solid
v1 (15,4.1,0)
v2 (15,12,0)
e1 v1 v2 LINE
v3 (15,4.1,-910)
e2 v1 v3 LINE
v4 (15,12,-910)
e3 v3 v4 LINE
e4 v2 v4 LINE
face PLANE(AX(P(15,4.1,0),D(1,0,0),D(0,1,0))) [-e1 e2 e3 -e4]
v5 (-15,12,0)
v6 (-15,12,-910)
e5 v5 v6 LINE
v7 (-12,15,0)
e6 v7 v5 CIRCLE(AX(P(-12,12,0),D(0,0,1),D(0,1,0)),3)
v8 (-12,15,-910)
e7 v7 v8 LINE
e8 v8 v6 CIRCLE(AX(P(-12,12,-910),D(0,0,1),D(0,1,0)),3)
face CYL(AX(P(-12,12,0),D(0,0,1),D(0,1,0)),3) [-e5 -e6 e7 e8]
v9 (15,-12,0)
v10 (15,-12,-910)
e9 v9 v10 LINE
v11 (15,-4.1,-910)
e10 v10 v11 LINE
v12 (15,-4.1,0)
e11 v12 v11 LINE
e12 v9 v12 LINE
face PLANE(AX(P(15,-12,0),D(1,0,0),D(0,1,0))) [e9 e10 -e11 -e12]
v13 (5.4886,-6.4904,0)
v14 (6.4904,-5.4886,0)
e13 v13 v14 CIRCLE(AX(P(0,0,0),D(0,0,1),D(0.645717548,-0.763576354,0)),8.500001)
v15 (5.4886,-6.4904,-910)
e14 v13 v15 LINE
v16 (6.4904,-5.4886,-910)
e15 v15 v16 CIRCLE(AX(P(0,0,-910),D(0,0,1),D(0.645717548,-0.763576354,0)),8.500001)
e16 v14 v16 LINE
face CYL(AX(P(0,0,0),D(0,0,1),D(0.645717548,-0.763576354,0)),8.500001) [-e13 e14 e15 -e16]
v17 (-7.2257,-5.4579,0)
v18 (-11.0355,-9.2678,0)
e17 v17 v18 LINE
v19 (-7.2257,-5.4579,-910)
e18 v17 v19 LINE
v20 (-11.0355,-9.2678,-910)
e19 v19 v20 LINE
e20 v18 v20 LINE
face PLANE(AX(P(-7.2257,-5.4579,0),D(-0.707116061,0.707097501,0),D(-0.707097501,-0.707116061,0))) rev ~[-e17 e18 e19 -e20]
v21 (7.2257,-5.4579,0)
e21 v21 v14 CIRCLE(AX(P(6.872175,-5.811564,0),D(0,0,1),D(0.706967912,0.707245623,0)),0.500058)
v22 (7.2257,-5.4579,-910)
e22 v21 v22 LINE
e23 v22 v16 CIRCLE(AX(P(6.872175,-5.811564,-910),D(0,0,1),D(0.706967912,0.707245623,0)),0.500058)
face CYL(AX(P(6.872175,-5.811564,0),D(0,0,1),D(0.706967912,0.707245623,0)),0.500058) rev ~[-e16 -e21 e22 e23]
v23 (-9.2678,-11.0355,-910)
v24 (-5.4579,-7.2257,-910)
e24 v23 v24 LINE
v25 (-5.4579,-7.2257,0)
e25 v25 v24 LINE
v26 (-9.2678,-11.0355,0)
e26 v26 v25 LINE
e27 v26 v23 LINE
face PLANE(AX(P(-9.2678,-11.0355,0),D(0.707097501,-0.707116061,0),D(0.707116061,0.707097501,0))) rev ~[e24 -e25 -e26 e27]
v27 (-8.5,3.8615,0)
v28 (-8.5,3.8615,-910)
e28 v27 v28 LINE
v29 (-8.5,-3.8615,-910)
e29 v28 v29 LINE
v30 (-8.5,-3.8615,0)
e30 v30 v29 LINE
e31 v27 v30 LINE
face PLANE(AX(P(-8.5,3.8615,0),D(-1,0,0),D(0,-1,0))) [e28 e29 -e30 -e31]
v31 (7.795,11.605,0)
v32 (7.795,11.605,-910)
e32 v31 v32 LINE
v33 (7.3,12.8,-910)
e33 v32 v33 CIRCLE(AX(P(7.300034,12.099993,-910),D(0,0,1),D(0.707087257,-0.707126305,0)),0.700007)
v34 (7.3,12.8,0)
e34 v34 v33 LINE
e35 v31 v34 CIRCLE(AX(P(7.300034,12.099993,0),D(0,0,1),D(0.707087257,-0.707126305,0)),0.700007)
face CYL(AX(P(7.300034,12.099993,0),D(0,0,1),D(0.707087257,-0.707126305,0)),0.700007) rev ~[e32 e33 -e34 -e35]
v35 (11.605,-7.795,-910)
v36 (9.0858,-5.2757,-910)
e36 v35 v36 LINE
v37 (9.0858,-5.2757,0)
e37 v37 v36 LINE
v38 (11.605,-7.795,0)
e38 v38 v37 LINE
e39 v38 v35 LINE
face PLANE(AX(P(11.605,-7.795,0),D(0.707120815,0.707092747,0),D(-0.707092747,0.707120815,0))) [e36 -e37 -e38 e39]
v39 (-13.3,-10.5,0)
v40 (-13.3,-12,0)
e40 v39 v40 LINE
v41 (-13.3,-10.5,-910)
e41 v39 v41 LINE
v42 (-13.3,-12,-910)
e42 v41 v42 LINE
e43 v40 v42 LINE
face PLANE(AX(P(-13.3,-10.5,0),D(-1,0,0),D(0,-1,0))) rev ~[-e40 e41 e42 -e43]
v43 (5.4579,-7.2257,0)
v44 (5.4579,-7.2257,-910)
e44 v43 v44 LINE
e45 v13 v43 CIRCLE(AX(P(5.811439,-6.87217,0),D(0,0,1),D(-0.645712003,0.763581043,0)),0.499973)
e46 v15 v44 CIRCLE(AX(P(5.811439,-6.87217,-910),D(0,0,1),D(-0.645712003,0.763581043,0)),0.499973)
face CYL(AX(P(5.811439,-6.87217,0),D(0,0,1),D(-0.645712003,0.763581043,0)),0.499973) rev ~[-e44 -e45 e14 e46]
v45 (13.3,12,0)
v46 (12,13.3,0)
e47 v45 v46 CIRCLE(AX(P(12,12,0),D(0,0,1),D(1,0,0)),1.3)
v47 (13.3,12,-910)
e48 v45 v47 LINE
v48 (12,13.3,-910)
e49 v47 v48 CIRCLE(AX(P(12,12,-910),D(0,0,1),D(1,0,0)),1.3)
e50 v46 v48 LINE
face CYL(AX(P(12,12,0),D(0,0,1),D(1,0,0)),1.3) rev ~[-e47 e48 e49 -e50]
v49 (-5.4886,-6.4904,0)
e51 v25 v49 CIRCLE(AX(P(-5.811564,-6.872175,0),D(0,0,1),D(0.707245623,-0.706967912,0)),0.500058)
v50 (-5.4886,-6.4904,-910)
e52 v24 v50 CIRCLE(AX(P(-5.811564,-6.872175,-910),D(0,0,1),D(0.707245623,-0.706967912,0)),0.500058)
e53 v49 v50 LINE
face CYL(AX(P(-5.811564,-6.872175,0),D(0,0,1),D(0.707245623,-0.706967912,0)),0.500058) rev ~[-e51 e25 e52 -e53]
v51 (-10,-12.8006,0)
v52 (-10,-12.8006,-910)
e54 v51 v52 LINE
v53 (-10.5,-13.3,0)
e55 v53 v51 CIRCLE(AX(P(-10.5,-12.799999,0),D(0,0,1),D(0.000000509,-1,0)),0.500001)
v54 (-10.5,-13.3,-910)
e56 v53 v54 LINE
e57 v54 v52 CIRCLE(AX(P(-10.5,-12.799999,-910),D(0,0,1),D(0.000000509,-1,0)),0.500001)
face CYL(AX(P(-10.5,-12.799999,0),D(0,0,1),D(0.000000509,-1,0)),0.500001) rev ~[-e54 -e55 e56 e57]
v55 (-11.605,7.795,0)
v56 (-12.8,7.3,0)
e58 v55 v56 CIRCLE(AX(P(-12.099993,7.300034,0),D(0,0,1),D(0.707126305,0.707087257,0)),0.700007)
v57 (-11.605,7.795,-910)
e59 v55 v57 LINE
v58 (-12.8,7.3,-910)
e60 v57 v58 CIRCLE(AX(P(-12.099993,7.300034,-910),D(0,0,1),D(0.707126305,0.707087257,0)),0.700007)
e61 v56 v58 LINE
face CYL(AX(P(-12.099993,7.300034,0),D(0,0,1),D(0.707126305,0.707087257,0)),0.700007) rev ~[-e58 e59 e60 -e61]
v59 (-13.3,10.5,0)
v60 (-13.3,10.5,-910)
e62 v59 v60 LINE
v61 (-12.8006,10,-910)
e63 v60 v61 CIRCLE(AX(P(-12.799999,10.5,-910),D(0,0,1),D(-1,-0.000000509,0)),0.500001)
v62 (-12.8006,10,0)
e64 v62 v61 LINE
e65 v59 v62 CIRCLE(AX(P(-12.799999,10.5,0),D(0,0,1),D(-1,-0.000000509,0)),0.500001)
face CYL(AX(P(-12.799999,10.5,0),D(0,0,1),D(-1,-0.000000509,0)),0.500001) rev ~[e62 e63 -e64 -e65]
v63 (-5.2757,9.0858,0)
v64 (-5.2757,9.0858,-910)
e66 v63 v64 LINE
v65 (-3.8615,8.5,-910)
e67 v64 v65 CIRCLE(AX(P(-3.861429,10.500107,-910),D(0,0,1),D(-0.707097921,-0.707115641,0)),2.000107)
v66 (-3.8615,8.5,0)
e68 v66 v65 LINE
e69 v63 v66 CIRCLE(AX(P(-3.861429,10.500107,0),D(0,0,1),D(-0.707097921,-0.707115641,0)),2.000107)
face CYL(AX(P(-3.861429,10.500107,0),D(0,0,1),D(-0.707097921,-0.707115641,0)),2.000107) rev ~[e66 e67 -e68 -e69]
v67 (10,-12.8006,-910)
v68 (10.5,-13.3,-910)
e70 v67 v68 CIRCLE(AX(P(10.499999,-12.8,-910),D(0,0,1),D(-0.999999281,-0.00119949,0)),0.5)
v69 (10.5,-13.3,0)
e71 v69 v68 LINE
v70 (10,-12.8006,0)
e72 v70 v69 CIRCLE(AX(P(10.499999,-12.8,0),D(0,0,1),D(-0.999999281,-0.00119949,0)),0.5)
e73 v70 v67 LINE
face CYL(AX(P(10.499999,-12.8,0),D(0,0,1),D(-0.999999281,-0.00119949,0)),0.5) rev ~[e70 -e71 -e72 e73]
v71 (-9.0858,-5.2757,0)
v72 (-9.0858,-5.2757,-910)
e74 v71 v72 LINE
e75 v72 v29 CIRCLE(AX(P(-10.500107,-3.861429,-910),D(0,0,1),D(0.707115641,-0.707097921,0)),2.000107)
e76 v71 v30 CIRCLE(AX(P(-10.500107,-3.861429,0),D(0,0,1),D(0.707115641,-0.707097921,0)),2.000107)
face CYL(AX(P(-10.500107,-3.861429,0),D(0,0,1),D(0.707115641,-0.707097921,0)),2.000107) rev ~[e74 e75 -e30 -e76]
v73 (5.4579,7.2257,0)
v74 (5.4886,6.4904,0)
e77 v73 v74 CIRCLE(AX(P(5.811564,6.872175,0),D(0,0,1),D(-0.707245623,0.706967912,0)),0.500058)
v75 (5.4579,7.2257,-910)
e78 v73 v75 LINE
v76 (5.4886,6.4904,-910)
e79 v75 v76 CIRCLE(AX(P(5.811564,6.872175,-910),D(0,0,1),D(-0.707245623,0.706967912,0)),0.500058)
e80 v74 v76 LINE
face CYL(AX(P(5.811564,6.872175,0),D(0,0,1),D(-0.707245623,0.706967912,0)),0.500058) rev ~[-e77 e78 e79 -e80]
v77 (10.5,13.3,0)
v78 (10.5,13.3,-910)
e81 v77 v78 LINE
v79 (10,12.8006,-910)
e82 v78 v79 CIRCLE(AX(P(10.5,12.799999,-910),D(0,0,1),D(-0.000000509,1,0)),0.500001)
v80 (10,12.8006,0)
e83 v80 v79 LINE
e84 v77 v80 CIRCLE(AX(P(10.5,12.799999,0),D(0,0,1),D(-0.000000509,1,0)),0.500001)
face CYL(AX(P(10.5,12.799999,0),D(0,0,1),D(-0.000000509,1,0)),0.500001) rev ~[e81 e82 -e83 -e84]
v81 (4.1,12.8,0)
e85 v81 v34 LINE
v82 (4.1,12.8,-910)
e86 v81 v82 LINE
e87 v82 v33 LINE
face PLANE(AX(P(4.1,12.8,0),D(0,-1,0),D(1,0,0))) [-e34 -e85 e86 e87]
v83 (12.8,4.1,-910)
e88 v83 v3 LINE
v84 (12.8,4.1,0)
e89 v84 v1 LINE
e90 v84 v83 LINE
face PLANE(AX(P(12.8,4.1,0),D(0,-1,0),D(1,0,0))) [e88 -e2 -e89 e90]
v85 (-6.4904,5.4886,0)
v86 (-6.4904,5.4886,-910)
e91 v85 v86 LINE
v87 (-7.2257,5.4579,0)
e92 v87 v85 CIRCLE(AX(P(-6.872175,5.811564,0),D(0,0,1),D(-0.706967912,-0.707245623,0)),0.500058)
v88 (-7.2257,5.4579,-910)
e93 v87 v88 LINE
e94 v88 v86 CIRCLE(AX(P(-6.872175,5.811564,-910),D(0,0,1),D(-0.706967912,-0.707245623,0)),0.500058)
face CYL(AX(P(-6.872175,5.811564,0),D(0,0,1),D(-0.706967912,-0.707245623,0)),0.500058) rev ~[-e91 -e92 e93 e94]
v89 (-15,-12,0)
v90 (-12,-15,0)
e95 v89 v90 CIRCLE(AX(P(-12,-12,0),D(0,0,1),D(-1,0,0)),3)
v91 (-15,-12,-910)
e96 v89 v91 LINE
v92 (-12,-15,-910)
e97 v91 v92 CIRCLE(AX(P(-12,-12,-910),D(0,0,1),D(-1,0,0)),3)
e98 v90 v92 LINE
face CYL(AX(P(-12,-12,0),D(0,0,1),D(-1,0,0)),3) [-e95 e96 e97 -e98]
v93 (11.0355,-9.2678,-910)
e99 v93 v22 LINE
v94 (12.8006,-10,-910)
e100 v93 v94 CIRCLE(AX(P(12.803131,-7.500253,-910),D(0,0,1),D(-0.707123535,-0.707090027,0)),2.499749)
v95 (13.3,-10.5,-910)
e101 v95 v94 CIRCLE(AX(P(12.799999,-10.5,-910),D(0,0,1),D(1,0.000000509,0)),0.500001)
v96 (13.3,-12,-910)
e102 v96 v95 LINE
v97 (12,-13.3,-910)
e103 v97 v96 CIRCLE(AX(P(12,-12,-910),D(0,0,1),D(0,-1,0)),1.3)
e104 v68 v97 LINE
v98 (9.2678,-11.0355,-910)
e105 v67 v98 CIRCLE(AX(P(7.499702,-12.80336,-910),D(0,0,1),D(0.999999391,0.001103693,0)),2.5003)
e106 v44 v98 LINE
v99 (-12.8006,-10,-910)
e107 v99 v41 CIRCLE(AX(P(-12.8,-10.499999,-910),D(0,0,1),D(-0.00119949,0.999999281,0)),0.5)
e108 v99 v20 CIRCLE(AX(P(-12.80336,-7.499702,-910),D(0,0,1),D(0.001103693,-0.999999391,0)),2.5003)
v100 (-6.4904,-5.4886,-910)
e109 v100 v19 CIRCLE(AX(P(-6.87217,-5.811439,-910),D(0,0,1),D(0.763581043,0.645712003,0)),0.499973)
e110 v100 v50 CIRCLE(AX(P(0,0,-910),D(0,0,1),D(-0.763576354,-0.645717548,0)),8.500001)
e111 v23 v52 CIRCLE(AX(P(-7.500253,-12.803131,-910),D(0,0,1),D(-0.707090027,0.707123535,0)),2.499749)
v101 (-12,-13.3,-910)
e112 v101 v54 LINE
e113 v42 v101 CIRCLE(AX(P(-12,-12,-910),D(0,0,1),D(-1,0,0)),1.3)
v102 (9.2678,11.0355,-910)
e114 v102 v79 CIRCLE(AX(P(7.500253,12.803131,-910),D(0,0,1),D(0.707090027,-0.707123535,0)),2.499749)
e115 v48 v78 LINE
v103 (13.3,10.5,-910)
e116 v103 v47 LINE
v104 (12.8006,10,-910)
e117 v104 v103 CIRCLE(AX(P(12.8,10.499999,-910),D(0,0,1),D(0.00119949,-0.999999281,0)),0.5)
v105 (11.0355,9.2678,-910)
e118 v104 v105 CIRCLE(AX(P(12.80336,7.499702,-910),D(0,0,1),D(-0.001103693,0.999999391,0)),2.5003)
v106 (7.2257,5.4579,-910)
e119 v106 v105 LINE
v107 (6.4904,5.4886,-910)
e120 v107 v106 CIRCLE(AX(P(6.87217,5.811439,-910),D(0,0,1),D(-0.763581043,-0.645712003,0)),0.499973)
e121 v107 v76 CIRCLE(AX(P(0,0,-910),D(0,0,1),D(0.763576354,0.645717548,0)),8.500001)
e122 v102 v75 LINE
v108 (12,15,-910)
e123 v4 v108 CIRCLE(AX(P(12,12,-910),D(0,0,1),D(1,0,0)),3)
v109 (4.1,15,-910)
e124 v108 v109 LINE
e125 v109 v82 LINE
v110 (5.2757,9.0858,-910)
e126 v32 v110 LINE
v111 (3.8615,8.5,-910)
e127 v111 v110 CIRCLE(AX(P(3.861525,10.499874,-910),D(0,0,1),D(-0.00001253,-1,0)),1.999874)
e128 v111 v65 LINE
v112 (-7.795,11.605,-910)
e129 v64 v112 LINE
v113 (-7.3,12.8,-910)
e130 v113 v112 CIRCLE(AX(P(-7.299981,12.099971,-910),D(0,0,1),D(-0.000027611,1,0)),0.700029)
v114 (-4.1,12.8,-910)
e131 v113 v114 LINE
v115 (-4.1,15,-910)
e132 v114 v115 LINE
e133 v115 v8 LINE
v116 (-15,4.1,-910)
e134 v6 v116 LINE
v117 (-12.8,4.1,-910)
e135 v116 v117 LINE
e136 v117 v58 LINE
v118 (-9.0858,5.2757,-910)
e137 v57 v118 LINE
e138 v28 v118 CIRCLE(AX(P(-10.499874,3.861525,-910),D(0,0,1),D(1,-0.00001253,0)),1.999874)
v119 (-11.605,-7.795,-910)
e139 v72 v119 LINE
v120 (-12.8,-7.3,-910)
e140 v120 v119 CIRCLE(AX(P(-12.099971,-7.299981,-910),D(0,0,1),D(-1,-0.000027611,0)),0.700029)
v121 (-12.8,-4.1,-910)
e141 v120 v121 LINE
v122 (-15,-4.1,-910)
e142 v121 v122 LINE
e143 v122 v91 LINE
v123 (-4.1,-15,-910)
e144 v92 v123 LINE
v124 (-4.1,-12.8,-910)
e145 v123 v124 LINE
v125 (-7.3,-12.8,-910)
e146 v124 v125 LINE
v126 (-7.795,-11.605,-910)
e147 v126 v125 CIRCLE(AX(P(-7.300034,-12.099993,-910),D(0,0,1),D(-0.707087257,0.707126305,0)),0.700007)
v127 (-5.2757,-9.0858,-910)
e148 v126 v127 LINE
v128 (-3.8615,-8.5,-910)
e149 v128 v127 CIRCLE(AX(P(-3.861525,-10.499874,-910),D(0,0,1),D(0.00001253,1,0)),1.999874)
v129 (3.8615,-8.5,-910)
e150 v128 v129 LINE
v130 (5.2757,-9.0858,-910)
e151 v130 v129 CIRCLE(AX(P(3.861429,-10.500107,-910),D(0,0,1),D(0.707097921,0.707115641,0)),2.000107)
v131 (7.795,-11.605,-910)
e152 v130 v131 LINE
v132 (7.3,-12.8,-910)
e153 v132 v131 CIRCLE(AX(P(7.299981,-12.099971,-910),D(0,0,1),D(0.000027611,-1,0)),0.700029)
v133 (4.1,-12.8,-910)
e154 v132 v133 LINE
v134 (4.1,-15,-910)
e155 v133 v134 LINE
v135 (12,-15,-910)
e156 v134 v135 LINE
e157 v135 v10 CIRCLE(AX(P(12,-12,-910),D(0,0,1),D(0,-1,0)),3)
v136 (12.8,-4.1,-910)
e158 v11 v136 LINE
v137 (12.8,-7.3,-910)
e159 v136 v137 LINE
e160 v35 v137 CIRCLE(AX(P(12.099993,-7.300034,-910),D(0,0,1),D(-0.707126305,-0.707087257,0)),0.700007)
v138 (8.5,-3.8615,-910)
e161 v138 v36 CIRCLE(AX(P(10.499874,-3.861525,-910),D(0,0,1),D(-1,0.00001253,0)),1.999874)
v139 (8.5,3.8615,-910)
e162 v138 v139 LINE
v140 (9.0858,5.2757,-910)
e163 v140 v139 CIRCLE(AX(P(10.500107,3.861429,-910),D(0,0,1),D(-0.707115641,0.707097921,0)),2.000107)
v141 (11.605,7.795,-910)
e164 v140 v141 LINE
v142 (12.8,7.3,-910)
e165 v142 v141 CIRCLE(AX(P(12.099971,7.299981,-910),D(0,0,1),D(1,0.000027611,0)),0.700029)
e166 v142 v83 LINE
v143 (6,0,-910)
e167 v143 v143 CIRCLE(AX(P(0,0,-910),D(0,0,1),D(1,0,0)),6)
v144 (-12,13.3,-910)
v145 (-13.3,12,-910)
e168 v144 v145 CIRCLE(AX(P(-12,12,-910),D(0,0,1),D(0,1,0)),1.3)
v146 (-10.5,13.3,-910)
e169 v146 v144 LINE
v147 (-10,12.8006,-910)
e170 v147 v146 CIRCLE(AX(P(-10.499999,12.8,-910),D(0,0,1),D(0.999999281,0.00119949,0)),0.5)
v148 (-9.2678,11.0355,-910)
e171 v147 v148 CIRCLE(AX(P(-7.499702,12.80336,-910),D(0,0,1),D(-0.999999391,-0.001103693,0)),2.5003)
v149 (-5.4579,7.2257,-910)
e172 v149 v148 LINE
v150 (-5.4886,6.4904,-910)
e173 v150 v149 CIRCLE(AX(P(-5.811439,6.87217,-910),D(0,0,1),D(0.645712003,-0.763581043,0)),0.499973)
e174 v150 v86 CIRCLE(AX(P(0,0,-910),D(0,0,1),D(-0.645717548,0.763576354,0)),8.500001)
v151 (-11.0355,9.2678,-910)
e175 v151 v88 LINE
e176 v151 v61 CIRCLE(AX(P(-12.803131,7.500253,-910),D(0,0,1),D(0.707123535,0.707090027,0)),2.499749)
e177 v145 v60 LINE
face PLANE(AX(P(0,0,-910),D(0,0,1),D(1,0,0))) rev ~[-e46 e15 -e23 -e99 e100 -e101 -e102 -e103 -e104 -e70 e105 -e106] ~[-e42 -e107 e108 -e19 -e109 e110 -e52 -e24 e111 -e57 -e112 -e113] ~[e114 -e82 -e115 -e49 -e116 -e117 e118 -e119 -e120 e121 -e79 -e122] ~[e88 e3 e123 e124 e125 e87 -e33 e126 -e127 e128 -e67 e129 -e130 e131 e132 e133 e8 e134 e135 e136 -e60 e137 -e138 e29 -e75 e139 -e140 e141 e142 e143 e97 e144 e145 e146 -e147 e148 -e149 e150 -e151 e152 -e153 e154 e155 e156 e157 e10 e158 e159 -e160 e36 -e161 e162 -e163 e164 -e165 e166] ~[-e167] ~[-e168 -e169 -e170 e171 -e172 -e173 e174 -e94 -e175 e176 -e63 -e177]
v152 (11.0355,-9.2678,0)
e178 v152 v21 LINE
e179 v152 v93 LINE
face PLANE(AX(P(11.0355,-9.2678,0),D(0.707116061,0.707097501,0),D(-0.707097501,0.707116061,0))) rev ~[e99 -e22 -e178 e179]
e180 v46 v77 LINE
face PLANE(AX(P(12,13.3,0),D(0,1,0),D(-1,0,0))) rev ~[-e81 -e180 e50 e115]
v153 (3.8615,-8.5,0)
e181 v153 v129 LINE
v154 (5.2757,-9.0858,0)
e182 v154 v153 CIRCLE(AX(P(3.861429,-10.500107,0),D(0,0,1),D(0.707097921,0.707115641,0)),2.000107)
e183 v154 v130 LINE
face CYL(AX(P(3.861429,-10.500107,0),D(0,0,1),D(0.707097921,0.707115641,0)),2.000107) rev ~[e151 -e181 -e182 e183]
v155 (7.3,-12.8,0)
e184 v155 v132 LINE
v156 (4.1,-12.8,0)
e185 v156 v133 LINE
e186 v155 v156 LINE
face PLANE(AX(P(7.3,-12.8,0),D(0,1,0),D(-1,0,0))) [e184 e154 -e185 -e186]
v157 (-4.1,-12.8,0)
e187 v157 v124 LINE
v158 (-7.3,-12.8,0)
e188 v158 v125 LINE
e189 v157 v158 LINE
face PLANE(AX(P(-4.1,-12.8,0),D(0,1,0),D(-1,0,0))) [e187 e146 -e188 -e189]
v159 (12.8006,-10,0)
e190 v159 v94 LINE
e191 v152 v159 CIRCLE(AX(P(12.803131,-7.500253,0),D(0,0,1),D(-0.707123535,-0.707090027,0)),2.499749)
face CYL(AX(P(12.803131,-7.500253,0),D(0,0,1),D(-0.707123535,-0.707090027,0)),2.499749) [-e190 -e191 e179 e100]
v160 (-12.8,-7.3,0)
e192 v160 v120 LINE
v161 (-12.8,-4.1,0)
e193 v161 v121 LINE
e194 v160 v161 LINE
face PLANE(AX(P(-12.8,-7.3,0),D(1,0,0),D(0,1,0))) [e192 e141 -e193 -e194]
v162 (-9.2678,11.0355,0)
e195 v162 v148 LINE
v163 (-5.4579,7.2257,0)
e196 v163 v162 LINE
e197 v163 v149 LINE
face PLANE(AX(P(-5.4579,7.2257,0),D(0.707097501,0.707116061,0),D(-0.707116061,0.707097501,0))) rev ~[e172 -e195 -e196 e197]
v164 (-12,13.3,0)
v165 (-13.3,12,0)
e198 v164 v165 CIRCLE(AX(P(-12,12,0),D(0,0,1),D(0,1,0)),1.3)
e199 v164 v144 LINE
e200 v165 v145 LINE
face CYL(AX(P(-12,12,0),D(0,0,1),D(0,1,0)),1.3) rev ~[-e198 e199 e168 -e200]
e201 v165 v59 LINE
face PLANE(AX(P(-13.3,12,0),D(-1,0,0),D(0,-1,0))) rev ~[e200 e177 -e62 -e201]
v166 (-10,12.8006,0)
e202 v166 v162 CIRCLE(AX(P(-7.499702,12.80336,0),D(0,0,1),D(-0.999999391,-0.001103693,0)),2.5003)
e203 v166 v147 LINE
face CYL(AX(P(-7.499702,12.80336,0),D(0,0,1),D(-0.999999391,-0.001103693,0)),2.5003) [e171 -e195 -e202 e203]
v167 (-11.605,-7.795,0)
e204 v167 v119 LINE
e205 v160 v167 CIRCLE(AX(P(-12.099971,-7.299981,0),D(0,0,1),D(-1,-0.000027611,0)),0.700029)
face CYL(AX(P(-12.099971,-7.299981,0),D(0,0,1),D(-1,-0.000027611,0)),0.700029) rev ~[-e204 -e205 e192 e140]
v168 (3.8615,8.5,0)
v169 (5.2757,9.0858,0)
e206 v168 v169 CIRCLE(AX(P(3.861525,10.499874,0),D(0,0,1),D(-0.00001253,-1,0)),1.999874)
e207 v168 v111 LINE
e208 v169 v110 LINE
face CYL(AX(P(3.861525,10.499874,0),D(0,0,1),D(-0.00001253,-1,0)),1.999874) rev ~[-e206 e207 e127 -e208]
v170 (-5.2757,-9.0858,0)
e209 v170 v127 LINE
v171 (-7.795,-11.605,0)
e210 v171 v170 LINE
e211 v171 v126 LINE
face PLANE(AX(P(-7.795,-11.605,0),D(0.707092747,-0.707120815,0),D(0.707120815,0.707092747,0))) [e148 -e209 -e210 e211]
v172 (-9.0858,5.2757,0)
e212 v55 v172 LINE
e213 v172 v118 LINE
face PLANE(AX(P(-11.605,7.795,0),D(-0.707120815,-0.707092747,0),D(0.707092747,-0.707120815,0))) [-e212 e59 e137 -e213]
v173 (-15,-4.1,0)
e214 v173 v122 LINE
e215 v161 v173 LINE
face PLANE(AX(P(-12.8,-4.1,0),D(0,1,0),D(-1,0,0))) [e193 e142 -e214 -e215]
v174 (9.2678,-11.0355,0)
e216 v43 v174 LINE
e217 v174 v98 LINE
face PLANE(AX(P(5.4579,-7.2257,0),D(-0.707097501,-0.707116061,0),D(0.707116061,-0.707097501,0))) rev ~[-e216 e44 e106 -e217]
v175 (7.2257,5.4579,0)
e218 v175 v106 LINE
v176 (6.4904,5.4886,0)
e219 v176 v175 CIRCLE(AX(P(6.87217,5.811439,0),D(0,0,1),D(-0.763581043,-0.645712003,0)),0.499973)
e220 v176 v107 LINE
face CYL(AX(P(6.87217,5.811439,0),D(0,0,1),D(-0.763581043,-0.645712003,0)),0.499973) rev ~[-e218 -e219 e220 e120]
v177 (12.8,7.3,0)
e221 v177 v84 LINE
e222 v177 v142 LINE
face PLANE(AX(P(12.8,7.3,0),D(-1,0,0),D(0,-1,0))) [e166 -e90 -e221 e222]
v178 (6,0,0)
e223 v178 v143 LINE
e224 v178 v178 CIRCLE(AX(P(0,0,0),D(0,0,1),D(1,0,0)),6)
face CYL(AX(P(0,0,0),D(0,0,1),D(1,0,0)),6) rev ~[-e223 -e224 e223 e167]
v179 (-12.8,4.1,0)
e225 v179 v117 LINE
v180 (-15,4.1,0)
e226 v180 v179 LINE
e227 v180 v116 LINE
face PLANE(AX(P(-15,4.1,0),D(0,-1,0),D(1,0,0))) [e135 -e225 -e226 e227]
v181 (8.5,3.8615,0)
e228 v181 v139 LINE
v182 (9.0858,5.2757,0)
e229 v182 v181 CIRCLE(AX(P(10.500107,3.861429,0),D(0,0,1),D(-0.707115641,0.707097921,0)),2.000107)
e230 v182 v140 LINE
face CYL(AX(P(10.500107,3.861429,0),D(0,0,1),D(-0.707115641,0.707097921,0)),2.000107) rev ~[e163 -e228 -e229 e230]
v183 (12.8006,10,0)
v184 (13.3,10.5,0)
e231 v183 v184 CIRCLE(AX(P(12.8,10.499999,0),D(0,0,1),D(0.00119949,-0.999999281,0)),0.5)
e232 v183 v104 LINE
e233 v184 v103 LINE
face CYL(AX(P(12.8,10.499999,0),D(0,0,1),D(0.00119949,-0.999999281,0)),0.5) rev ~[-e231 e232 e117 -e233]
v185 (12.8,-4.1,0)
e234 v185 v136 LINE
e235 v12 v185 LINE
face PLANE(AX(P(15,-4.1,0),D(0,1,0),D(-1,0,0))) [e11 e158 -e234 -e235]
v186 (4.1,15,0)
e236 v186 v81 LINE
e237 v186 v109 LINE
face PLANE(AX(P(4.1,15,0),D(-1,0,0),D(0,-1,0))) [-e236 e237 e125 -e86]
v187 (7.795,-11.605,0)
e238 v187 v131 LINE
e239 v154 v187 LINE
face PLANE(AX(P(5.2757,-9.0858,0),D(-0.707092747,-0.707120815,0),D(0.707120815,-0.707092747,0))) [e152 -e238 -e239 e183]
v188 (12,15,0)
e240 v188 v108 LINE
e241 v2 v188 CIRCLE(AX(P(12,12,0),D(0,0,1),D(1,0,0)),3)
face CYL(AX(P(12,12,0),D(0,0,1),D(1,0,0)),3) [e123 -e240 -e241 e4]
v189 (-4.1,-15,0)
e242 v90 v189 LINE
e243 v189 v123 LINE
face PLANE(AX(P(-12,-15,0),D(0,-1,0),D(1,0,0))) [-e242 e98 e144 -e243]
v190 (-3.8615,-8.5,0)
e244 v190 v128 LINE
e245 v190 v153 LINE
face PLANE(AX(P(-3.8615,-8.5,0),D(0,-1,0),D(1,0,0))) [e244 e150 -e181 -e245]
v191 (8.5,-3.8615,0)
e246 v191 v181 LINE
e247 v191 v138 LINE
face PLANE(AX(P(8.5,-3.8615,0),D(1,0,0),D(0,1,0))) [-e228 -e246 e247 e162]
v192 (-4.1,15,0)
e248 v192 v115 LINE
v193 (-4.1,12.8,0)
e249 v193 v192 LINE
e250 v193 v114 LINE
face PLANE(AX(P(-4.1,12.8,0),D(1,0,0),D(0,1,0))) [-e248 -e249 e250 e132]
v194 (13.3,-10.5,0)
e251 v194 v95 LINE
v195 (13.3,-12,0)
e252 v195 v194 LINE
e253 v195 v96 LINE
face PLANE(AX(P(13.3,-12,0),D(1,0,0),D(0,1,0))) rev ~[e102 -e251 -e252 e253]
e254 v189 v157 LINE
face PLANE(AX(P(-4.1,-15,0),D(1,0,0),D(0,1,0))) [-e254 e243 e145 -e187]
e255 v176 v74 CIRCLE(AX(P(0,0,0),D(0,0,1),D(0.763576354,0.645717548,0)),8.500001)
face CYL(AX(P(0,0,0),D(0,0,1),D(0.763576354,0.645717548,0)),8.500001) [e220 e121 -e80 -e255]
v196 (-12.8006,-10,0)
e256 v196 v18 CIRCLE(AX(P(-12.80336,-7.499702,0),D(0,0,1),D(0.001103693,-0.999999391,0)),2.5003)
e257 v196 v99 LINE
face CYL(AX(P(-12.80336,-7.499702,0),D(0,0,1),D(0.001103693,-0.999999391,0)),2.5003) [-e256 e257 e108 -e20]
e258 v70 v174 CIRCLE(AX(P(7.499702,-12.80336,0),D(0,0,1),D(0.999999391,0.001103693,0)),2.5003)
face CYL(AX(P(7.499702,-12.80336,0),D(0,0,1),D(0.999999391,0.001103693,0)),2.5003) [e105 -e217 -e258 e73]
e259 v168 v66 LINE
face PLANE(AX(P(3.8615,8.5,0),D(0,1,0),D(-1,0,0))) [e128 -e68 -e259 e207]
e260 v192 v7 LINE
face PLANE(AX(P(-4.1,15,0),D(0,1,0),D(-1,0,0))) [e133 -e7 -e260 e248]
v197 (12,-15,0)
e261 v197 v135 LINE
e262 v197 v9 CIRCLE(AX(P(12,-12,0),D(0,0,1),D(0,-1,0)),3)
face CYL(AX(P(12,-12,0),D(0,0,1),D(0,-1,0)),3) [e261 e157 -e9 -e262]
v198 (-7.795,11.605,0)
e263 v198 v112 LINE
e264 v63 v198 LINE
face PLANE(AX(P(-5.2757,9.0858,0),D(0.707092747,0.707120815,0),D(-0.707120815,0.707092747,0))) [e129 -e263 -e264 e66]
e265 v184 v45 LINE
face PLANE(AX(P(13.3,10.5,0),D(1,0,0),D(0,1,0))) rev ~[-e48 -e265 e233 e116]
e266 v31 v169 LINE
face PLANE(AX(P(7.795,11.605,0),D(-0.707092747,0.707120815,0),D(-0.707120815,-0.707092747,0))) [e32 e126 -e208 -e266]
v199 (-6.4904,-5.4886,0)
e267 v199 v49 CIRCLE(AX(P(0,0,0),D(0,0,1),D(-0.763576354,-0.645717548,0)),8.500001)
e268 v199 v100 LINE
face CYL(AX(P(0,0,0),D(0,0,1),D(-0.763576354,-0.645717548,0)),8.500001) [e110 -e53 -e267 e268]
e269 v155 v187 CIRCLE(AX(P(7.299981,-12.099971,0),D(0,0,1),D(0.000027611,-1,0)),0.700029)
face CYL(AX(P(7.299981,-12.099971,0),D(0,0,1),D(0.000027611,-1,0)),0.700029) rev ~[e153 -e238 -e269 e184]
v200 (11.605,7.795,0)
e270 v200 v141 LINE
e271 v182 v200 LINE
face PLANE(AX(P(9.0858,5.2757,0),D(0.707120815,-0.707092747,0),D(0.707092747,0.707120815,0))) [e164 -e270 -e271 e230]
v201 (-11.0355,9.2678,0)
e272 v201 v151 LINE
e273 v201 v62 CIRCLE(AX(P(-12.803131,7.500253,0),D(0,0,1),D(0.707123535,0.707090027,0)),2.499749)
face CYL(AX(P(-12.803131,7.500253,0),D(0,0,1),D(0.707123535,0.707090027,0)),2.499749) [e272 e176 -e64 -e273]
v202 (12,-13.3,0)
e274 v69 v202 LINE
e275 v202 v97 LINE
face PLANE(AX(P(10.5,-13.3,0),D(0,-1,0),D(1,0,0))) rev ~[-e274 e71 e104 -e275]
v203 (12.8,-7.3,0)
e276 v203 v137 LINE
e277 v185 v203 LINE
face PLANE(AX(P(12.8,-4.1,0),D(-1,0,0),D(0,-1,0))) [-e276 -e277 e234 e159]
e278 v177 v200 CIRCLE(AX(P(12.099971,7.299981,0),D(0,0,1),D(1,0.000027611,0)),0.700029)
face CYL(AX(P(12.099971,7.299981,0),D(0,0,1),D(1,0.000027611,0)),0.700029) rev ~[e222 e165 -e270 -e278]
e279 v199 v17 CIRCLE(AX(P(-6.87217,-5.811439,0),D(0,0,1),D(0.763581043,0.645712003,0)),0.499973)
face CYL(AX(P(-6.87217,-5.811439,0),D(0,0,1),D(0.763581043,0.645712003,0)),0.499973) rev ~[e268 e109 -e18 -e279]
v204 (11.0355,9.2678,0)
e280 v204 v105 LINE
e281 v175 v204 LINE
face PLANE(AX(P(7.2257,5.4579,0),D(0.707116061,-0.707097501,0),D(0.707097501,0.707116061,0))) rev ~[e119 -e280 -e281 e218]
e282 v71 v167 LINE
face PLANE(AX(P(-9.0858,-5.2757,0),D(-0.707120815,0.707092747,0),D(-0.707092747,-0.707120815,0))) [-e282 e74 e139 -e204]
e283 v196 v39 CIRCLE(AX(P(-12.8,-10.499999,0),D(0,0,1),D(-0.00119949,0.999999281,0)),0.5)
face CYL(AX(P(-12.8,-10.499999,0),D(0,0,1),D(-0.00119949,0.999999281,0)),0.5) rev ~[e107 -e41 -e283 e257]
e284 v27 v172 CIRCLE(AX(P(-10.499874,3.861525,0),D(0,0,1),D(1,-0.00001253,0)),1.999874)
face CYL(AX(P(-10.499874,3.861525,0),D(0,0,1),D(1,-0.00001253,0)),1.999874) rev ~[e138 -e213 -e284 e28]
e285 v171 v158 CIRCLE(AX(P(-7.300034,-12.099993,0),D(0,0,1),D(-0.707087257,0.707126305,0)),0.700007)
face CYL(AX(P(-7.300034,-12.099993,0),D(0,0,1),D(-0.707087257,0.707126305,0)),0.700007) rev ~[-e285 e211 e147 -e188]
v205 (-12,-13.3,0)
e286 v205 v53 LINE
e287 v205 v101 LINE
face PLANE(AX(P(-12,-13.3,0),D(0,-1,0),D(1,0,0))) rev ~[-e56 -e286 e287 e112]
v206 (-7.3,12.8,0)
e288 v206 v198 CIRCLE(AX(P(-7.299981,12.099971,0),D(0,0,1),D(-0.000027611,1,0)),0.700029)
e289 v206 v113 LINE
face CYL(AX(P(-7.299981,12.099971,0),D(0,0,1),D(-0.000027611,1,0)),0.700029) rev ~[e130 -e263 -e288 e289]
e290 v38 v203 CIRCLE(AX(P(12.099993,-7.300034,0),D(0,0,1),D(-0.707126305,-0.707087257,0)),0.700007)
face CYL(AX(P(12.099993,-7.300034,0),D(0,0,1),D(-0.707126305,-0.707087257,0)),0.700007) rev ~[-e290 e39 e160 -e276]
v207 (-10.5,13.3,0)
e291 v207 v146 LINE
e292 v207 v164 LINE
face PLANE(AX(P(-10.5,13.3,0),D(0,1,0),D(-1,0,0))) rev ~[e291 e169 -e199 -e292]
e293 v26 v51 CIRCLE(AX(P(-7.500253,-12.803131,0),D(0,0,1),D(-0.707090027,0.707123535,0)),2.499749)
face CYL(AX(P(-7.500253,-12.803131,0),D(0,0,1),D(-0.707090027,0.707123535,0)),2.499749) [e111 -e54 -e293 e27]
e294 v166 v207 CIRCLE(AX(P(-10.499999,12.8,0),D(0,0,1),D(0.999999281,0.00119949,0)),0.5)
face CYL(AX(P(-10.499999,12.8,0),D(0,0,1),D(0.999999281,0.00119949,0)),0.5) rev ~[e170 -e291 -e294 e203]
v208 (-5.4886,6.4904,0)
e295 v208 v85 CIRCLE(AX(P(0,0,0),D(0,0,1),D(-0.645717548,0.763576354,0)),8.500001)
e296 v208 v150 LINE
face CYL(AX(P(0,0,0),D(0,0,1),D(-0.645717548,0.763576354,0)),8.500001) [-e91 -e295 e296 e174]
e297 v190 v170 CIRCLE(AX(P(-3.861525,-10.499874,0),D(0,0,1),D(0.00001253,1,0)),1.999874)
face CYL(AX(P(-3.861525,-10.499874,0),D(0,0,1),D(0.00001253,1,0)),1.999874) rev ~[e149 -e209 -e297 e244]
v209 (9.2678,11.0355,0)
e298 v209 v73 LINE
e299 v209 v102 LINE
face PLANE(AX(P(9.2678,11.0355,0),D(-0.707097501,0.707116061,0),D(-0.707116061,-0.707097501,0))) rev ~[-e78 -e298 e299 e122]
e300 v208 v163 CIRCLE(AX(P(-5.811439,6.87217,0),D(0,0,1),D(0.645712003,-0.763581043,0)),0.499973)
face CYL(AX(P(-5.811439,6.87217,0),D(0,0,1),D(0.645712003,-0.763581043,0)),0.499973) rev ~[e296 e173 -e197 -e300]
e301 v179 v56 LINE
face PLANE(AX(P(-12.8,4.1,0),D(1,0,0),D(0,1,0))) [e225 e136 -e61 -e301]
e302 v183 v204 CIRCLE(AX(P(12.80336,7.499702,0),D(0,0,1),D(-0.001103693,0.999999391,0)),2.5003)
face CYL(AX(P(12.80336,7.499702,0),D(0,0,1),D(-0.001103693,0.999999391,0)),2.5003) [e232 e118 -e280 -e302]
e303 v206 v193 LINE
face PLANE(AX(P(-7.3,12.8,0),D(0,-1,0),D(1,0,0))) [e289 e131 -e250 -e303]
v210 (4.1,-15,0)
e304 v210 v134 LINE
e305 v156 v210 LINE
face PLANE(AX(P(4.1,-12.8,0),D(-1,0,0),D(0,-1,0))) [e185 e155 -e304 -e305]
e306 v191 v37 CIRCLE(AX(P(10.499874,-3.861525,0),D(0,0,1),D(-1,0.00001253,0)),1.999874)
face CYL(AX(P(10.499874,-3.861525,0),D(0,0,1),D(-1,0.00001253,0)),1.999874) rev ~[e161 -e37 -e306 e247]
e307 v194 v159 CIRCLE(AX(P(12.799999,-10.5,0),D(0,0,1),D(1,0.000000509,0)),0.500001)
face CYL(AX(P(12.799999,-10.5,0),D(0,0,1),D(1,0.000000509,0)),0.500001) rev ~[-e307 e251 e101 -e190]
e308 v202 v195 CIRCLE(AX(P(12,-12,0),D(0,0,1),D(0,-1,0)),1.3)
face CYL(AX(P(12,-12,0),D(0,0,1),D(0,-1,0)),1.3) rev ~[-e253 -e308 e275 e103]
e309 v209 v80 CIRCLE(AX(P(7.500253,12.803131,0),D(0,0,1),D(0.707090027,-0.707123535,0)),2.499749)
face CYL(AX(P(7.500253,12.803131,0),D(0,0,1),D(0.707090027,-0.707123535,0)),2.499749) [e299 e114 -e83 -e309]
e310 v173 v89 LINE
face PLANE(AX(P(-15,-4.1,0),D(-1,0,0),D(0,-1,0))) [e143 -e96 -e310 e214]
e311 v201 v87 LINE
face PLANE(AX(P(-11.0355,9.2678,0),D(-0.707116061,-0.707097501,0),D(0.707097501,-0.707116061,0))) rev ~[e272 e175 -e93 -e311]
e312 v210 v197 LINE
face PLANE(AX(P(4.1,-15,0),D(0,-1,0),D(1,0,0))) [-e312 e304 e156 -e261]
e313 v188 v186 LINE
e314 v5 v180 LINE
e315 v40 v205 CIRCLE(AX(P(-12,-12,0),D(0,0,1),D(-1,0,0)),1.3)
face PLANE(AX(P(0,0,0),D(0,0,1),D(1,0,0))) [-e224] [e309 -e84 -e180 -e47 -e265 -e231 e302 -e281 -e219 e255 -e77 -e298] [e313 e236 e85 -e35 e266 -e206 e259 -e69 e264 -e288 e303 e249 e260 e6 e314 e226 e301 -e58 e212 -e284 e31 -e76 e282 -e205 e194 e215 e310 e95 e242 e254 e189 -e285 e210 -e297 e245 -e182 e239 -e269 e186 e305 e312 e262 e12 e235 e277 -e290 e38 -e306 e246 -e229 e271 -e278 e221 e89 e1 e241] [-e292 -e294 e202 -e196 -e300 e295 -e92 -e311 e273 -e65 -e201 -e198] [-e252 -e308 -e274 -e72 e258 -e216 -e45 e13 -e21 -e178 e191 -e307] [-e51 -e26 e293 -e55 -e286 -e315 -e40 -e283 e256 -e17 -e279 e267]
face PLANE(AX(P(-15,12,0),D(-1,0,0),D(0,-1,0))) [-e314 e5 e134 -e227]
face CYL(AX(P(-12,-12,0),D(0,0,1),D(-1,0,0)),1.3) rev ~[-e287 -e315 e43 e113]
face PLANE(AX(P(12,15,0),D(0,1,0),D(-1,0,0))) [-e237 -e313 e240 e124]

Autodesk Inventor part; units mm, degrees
sketch "Skizze_1" plane through (0, 0, 0) normal (0, 0, 1) x (1, 0, 0)
  line L0 (-15, 4.1) -> (-12.8, 4.1)
  line L1 (-12.8, 4.1) -> (-12.8, 7.3)
  arc A0 (-11.605, 7.795) -> (-12.8, 7.3) centre (-12.1, 7.3) ccw
  line L2 (-11.605, 7.795) -> (-9.0858, 5.2757)
  arc A1 (-8.5, 3.8615) -> (-9.0858, 5.2757) centre (-10.5, 3.8615) ccw
  line L3 (-8.5, 3.8615) -> (-8.5, -3.8615)
  arc A2 (-9.0858, -5.2757) -> (-8.5, -3.8615) centre (-10.5, -3.8615) ccw
  line L4 (-9.0858, -5.2757) -> (-11.605, -7.795)
  arc A3 (-12.8, -7.3) -> (-11.605, -7.795) centre (-12.1, -7.3) ccw
  line L5 (-12.8, -7.3) -> (-12.8, -4.1)
  line L6 (-12.8, -4.1) -> (-15, -4.1)
  line L7 (-15, -4.1) -> (-15, -12)
  arc A4 (-15, -12) -> (-12, -15) centre (-12, -12) ccw
  line L8 (-12, -15) -> (-4.1, -15)
  line L9 (-4.1, -15) -> (-4.1, -12.8)
  line L10 (-4.1, -12.8) -> (-7.3, -12.8)
  arc A5 (-7.795, -11.605) -> (-7.3, -12.8) centre (-7.3, -12.1) ccw
  line L11 (-7.795, -11.605) -> (-5.2757, -9.0858)
  arc A6 (-3.8615, -8.5) -> (-5.2757, -9.0858) centre (-3.8615, -10.5) ccw
  line L12 (-3.8615, -8.5) -> (3.8615, -8.5)
  arc A7 (5.2757, -9.0858) -> (3.8615, -8.5) centre (3.8615, -10.5) ccw
  line L13 (5.2757, -9.0858) -> (7.795, -11.605)
  arc A8 (7.3, -12.8) -> (7.795, -11.605) centre (7.3, -12.1) ccw
  line L14 (7.3, -12.8) -> (4.1, -12.8)
  line L15 (4.1, -12.8) -> (4.1, -15)
  line L16 (4.1, -15) -> (12, -15)
  arc A9 (12, -15) -> (15, -12) centre (12, -12) ccw
  line L17 (15, -12) -> (15, -4.1)
  line L18 (15, -4.1) -> (12.8, -4.1)
  line L19 (12.8, -4.1) -> (12.8, -7.3)
  arc A10 (11.605, -7.795) -> (12.8, -7.3) centre (12.1, -7.3) ccw
  line L20 (11.605, -7.795) -> (9.0858, -5.2757)
  arc A11 (8.5, -3.8615) -> (9.0858, -5.2757) centre (10.5, -3.8615) ccw
  line L21 (8.5, -3.8615) -> (8.5, 3.8615)
  arc A12 (9.0858, 5.2757) -> (8.5, 3.8615) centre (10.5, 3.8615) ccw
  line L22 (9.0858, 5.2757) -> (11.605, 7.795)
  arc A13 (12.8, 7.3) -> (11.605, 7.795) centre (12.1, 7.3) ccw
  line L23 (12.8, 7.3) -> (12.8, 4.1)
  line L24 (12.8, 4.1) -> (15, 4.1)
  line L25 (15, 4.1) -> (15, 12)
  arc A14 (15, 12) -> (12, 15) centre (12, 12) ccw
  line L26 (12, 15) -> (4.1, 15)
  line L27 (4.1, 15) -> (4.1, 12.8)
  line L28 (4.1, 12.8) -> (7.3, 12.8)
  arc A15 (7.795, 11.605) -> (7.3, 12.8) centre (7.3, 12.1) ccw
  line L29 (7.795, 11.605) -> (5.2757, 9.0858)
  arc A16 (3.8615, 8.5) -> (5.2757, 9.0858) centre (3.8615, 10.5) ccw
  line L30 (3.8615, 8.5) -> (-3.8615, 8.5)
  arc A17 (-5.2757, 9.0858) -> (-3.8615, 8.5) centre (-3.8615, 10.5) ccw
  line L31 (-5.2757, 9.0858) -> (-7.795, 11.605)
  arc A18 (-7.3, 12.8) -> (-7.795, 11.605) centre (-7.3, 12.1) ccw
  line L32 (-7.3, 12.8) -> (-4.1, 12.8)
  line L33 (-4.1, 12.8) -> (-4.1, 15)
  line L34 (-4.1, 15) -> (-12, 15)
  arc A19 (-12, 15) -> (-15, 12) centre (-12, 12) ccw
  line L35 (-15, 12) -> (-15, 4.1)
  arc A20 (5.4886, -6.4904) -> (5.4579, -7.2257) centre (5.8115, -6.8722) ccw
  line L36 (5.4579, -7.2257) -> (9.2678, -11.0355)
  arc A21 (10, -12.8006) -> (9.2678, -11.0355) centre (7.5, -12.8033) ccw
  arc A22 (10, -12.8006) -> (10.5, -13.3) centre (10.5, -12.8) ccw
  line L37 (10.5, -13.3) -> (12, -13.3)
  arc A23 (12, -13.3) -> (13.3, -12) centre (12, -12) ccw
  line L38 (13.3, -12) -> (13.3, -10.5)
  arc A24 (13.3, -10.5) -> (12.8006, -10) centre (12.8, -10.5) ccw
  arc A25 (11.0355, -9.2678) -> (12.8006, -10) centre (12.8033, -7.5) ccw
  line L39 (11.0355, -9.2678) -> (7.2257, -5.4579)
  arc A26 (7.2257, -5.4579) -> (6.4904, -5.4886) centre (6.8722, -5.8115) ccw
  arc A27 (5.4886, -6.4904) -> (6.4904, -5.4886) centre (0, 0) ccw
  arc A28 (5.4579, 7.2257) -> (5.4886, 6.4904) centre (5.8115, 6.8722) ccw
  arc A29 (6.4904, 5.4886) -> (5.4886, 6.4904) centre (0, 0) ccw
  arc A30 (6.4904, 5.4886) -> (7.2257, 5.4579) centre (6.8722, 5.8115) ccw
  line L40 (7.2257, 5.4579) -> (11.0355, 9.2678)
  arc A31 (12.8006, 10) -> (11.0355, 9.2678) centre (12.8033, 7.5) ccw
  arc A32 (12.8006, 10) -> (13.3, 10.5) centre (12.8, 10.5) ccw
  line L41 (13.3, 10.5) -> (13.3, 12)
  arc A33 (13.3, 12) -> (12, 13.3) centre (12, 12) ccw
  line L42 (12, 13.3) -> (10.5, 13.3)
  arc A34 (10.5, 13.3) -> (10, 12.8006) centre (10.5, 12.8) ccw
  arc A35 (9.2678, 11.0355) -> (10, 12.8006) centre (7.5, 12.8033) ccw
  line L43 (9.2678, 11.0355) -> (5.4579, 7.2257)
  circle A36 centre (0, 0) radius 6
  line L44 (-13.3, 12) -> (-13.3, 10.5)
  arc A37 (-13.3, 10.5) -> (-12.8006, 10) centre (-12.8, 10.5) ccw
  arc A38 (-11.0355, 9.2678) -> (-12.8006, 10) centre (-12.8033, 7.5) ccw
  line L45 (-11.0355, 9.2678) -> (-7.2257, 5.4579)
  arc A39 (-7.2257, 5.4579) -> (-6.4904, 5.4886) centre (-6.8722, 5.8115) ccw
  arc A40 (-5.4886, 6.4904) -> (-6.4904, 5.4886) centre (0, 0) ccw
  arc A41 (-5.4886, 6.4904) -> (-5.4579, 7.2257) centre (-5.8115, 6.8722) ccw
  line L46 (-5.4579, 7.2257) -> (-9.2678, 11.0355)
  arc A42 (-10, 12.8006) -> (-9.2678, 11.0355) centre (-7.5, 12.8033) ccw
  arc A43 (-10, 12.8006) -> (-10.5, 13.3) centre (-10.5, 12.8) ccw
  line L47 (-10.5, 13.3) -> (-12, 13.3)
  arc A44 (-12, 13.3) -> (-13.3, 12) centre (-12, 12) ccw
  line L48 (-13.3, -10.5) -> (-13.3, -12)
  arc A45 (-13.3, -12) -> (-12, -13.3) centre (-12, -12) ccw
  line L49 (-12, -13.3) -> (-10.5, -13.3)
  arc A46 (-10.5, -13.3) -> (-10, -12.8006) centre (-10.5, -12.8) ccw
  arc A47 (-9.2678, -11.0355) -> (-10, -12.8006) centre (-7.5, -12.8033) ccw
  line L50 (-9.2678, -11.0355) -> (-5.4579, -7.2257)
  arc A48 (-5.4579, -7.2257) -> (-5.4886, -6.4904) centre (-5.8115, -6.8722) ccw
  arc A49 (-6.4904, -5.4886) -> (-5.4886, -6.4904) centre (0, 0) ccw
  arc A50 (-6.4904, -5.4886) -> (-7.2257, -5.4579) centre (-6.8722, -5.8115) ccw
  line L51 (-7.2257, -5.4579) -> (-11.0355, -9.2678)
  arc A51 (-12.8006, -10) -> (-11.0355, -9.2678) centre (-12.8033, -7.5) ccw
  arc A52 (-12.8006, -10) -> (-13.3, -10.5) centre (-12.8, -10.5) ccw
extrude "Extrusion1" add sketch "Skizze_1" against normal blind 910
ref_plane "end_XY" through (0, 0, -50) normal (0, 0, -1) x (1, 0, 0)
ref_plane "end_YZ" through (0, 0, -50) normal (1, 0, 0) x (0, -1, 0)
ref_plane "end_ZX" through (0, 0, -50) normal (0, -1, 0) x (0, 0, -1)
ref_plane "side_1a_XY" through (0, 15, -25) normal (0, 1, 0) x (1, 0, 0)
ref_plane "side_1a_YZ" through (0, 15, -25) normal (1, 0, 0) x (0, 0, -1)
ref_plane "side_1a_ZX" through (0, 15, -25) normal (0, 0, -1) x (0, 1, 0)
ref_plane "side_2b_XY" through (15, 0, -25) normal (1, 0, 0) x (0, -1, 0)
ref_plane "side_2b_YZ" through (15, 0, -25) normal (0, -1, 0) x (0, 0, -1)
ref_plane "side_2b_ZX" through (15, 0, -25) normal (0, 0, -1) x (1, 0, 0)
ref_plane "side_3c_XY" through (0, -15, -25) normal (0, -1, 0) x (-1, 0, 0)
ref_plane "side_3c_YZ" through (0, -15, -25) normal (-1, 0, 0) x (0, 0, -1)
ref_plane "side_3c_ZX" through (0, -15, -25) normal (0, 0, -1) x (0, -1, 0)
ref_plane "side_4d_XY" through (-15, 0, -25) normal (-1, 0, 0) x (0, 1, 0)
ref_plane "side_4d_YZ" through (-15, 0, -25) normal (0, 1, 0) x (0, 0, -1)
ref_plane "side_4d_ZX" through (-15, 0, -25) normal (0, 0, -1) x (-1, 0, 0)
ref_plane "start_XY" through (0, 0, 0) normal (0, 0, 1) x (1, 0, 0)
ref_plane "start_YZ" through (0, 0, 0) normal (1, 0, 0) x (0, 1, 0)
ref_plane "start_ZX" through (0, 0, 0) normal (0, 1, 0) x (0, 0, 1)
properties part number "MayTec 1_11_030030_43SP_Profile 30x30_ 4F, SP_910_Detail_(0;0,0,0)"
